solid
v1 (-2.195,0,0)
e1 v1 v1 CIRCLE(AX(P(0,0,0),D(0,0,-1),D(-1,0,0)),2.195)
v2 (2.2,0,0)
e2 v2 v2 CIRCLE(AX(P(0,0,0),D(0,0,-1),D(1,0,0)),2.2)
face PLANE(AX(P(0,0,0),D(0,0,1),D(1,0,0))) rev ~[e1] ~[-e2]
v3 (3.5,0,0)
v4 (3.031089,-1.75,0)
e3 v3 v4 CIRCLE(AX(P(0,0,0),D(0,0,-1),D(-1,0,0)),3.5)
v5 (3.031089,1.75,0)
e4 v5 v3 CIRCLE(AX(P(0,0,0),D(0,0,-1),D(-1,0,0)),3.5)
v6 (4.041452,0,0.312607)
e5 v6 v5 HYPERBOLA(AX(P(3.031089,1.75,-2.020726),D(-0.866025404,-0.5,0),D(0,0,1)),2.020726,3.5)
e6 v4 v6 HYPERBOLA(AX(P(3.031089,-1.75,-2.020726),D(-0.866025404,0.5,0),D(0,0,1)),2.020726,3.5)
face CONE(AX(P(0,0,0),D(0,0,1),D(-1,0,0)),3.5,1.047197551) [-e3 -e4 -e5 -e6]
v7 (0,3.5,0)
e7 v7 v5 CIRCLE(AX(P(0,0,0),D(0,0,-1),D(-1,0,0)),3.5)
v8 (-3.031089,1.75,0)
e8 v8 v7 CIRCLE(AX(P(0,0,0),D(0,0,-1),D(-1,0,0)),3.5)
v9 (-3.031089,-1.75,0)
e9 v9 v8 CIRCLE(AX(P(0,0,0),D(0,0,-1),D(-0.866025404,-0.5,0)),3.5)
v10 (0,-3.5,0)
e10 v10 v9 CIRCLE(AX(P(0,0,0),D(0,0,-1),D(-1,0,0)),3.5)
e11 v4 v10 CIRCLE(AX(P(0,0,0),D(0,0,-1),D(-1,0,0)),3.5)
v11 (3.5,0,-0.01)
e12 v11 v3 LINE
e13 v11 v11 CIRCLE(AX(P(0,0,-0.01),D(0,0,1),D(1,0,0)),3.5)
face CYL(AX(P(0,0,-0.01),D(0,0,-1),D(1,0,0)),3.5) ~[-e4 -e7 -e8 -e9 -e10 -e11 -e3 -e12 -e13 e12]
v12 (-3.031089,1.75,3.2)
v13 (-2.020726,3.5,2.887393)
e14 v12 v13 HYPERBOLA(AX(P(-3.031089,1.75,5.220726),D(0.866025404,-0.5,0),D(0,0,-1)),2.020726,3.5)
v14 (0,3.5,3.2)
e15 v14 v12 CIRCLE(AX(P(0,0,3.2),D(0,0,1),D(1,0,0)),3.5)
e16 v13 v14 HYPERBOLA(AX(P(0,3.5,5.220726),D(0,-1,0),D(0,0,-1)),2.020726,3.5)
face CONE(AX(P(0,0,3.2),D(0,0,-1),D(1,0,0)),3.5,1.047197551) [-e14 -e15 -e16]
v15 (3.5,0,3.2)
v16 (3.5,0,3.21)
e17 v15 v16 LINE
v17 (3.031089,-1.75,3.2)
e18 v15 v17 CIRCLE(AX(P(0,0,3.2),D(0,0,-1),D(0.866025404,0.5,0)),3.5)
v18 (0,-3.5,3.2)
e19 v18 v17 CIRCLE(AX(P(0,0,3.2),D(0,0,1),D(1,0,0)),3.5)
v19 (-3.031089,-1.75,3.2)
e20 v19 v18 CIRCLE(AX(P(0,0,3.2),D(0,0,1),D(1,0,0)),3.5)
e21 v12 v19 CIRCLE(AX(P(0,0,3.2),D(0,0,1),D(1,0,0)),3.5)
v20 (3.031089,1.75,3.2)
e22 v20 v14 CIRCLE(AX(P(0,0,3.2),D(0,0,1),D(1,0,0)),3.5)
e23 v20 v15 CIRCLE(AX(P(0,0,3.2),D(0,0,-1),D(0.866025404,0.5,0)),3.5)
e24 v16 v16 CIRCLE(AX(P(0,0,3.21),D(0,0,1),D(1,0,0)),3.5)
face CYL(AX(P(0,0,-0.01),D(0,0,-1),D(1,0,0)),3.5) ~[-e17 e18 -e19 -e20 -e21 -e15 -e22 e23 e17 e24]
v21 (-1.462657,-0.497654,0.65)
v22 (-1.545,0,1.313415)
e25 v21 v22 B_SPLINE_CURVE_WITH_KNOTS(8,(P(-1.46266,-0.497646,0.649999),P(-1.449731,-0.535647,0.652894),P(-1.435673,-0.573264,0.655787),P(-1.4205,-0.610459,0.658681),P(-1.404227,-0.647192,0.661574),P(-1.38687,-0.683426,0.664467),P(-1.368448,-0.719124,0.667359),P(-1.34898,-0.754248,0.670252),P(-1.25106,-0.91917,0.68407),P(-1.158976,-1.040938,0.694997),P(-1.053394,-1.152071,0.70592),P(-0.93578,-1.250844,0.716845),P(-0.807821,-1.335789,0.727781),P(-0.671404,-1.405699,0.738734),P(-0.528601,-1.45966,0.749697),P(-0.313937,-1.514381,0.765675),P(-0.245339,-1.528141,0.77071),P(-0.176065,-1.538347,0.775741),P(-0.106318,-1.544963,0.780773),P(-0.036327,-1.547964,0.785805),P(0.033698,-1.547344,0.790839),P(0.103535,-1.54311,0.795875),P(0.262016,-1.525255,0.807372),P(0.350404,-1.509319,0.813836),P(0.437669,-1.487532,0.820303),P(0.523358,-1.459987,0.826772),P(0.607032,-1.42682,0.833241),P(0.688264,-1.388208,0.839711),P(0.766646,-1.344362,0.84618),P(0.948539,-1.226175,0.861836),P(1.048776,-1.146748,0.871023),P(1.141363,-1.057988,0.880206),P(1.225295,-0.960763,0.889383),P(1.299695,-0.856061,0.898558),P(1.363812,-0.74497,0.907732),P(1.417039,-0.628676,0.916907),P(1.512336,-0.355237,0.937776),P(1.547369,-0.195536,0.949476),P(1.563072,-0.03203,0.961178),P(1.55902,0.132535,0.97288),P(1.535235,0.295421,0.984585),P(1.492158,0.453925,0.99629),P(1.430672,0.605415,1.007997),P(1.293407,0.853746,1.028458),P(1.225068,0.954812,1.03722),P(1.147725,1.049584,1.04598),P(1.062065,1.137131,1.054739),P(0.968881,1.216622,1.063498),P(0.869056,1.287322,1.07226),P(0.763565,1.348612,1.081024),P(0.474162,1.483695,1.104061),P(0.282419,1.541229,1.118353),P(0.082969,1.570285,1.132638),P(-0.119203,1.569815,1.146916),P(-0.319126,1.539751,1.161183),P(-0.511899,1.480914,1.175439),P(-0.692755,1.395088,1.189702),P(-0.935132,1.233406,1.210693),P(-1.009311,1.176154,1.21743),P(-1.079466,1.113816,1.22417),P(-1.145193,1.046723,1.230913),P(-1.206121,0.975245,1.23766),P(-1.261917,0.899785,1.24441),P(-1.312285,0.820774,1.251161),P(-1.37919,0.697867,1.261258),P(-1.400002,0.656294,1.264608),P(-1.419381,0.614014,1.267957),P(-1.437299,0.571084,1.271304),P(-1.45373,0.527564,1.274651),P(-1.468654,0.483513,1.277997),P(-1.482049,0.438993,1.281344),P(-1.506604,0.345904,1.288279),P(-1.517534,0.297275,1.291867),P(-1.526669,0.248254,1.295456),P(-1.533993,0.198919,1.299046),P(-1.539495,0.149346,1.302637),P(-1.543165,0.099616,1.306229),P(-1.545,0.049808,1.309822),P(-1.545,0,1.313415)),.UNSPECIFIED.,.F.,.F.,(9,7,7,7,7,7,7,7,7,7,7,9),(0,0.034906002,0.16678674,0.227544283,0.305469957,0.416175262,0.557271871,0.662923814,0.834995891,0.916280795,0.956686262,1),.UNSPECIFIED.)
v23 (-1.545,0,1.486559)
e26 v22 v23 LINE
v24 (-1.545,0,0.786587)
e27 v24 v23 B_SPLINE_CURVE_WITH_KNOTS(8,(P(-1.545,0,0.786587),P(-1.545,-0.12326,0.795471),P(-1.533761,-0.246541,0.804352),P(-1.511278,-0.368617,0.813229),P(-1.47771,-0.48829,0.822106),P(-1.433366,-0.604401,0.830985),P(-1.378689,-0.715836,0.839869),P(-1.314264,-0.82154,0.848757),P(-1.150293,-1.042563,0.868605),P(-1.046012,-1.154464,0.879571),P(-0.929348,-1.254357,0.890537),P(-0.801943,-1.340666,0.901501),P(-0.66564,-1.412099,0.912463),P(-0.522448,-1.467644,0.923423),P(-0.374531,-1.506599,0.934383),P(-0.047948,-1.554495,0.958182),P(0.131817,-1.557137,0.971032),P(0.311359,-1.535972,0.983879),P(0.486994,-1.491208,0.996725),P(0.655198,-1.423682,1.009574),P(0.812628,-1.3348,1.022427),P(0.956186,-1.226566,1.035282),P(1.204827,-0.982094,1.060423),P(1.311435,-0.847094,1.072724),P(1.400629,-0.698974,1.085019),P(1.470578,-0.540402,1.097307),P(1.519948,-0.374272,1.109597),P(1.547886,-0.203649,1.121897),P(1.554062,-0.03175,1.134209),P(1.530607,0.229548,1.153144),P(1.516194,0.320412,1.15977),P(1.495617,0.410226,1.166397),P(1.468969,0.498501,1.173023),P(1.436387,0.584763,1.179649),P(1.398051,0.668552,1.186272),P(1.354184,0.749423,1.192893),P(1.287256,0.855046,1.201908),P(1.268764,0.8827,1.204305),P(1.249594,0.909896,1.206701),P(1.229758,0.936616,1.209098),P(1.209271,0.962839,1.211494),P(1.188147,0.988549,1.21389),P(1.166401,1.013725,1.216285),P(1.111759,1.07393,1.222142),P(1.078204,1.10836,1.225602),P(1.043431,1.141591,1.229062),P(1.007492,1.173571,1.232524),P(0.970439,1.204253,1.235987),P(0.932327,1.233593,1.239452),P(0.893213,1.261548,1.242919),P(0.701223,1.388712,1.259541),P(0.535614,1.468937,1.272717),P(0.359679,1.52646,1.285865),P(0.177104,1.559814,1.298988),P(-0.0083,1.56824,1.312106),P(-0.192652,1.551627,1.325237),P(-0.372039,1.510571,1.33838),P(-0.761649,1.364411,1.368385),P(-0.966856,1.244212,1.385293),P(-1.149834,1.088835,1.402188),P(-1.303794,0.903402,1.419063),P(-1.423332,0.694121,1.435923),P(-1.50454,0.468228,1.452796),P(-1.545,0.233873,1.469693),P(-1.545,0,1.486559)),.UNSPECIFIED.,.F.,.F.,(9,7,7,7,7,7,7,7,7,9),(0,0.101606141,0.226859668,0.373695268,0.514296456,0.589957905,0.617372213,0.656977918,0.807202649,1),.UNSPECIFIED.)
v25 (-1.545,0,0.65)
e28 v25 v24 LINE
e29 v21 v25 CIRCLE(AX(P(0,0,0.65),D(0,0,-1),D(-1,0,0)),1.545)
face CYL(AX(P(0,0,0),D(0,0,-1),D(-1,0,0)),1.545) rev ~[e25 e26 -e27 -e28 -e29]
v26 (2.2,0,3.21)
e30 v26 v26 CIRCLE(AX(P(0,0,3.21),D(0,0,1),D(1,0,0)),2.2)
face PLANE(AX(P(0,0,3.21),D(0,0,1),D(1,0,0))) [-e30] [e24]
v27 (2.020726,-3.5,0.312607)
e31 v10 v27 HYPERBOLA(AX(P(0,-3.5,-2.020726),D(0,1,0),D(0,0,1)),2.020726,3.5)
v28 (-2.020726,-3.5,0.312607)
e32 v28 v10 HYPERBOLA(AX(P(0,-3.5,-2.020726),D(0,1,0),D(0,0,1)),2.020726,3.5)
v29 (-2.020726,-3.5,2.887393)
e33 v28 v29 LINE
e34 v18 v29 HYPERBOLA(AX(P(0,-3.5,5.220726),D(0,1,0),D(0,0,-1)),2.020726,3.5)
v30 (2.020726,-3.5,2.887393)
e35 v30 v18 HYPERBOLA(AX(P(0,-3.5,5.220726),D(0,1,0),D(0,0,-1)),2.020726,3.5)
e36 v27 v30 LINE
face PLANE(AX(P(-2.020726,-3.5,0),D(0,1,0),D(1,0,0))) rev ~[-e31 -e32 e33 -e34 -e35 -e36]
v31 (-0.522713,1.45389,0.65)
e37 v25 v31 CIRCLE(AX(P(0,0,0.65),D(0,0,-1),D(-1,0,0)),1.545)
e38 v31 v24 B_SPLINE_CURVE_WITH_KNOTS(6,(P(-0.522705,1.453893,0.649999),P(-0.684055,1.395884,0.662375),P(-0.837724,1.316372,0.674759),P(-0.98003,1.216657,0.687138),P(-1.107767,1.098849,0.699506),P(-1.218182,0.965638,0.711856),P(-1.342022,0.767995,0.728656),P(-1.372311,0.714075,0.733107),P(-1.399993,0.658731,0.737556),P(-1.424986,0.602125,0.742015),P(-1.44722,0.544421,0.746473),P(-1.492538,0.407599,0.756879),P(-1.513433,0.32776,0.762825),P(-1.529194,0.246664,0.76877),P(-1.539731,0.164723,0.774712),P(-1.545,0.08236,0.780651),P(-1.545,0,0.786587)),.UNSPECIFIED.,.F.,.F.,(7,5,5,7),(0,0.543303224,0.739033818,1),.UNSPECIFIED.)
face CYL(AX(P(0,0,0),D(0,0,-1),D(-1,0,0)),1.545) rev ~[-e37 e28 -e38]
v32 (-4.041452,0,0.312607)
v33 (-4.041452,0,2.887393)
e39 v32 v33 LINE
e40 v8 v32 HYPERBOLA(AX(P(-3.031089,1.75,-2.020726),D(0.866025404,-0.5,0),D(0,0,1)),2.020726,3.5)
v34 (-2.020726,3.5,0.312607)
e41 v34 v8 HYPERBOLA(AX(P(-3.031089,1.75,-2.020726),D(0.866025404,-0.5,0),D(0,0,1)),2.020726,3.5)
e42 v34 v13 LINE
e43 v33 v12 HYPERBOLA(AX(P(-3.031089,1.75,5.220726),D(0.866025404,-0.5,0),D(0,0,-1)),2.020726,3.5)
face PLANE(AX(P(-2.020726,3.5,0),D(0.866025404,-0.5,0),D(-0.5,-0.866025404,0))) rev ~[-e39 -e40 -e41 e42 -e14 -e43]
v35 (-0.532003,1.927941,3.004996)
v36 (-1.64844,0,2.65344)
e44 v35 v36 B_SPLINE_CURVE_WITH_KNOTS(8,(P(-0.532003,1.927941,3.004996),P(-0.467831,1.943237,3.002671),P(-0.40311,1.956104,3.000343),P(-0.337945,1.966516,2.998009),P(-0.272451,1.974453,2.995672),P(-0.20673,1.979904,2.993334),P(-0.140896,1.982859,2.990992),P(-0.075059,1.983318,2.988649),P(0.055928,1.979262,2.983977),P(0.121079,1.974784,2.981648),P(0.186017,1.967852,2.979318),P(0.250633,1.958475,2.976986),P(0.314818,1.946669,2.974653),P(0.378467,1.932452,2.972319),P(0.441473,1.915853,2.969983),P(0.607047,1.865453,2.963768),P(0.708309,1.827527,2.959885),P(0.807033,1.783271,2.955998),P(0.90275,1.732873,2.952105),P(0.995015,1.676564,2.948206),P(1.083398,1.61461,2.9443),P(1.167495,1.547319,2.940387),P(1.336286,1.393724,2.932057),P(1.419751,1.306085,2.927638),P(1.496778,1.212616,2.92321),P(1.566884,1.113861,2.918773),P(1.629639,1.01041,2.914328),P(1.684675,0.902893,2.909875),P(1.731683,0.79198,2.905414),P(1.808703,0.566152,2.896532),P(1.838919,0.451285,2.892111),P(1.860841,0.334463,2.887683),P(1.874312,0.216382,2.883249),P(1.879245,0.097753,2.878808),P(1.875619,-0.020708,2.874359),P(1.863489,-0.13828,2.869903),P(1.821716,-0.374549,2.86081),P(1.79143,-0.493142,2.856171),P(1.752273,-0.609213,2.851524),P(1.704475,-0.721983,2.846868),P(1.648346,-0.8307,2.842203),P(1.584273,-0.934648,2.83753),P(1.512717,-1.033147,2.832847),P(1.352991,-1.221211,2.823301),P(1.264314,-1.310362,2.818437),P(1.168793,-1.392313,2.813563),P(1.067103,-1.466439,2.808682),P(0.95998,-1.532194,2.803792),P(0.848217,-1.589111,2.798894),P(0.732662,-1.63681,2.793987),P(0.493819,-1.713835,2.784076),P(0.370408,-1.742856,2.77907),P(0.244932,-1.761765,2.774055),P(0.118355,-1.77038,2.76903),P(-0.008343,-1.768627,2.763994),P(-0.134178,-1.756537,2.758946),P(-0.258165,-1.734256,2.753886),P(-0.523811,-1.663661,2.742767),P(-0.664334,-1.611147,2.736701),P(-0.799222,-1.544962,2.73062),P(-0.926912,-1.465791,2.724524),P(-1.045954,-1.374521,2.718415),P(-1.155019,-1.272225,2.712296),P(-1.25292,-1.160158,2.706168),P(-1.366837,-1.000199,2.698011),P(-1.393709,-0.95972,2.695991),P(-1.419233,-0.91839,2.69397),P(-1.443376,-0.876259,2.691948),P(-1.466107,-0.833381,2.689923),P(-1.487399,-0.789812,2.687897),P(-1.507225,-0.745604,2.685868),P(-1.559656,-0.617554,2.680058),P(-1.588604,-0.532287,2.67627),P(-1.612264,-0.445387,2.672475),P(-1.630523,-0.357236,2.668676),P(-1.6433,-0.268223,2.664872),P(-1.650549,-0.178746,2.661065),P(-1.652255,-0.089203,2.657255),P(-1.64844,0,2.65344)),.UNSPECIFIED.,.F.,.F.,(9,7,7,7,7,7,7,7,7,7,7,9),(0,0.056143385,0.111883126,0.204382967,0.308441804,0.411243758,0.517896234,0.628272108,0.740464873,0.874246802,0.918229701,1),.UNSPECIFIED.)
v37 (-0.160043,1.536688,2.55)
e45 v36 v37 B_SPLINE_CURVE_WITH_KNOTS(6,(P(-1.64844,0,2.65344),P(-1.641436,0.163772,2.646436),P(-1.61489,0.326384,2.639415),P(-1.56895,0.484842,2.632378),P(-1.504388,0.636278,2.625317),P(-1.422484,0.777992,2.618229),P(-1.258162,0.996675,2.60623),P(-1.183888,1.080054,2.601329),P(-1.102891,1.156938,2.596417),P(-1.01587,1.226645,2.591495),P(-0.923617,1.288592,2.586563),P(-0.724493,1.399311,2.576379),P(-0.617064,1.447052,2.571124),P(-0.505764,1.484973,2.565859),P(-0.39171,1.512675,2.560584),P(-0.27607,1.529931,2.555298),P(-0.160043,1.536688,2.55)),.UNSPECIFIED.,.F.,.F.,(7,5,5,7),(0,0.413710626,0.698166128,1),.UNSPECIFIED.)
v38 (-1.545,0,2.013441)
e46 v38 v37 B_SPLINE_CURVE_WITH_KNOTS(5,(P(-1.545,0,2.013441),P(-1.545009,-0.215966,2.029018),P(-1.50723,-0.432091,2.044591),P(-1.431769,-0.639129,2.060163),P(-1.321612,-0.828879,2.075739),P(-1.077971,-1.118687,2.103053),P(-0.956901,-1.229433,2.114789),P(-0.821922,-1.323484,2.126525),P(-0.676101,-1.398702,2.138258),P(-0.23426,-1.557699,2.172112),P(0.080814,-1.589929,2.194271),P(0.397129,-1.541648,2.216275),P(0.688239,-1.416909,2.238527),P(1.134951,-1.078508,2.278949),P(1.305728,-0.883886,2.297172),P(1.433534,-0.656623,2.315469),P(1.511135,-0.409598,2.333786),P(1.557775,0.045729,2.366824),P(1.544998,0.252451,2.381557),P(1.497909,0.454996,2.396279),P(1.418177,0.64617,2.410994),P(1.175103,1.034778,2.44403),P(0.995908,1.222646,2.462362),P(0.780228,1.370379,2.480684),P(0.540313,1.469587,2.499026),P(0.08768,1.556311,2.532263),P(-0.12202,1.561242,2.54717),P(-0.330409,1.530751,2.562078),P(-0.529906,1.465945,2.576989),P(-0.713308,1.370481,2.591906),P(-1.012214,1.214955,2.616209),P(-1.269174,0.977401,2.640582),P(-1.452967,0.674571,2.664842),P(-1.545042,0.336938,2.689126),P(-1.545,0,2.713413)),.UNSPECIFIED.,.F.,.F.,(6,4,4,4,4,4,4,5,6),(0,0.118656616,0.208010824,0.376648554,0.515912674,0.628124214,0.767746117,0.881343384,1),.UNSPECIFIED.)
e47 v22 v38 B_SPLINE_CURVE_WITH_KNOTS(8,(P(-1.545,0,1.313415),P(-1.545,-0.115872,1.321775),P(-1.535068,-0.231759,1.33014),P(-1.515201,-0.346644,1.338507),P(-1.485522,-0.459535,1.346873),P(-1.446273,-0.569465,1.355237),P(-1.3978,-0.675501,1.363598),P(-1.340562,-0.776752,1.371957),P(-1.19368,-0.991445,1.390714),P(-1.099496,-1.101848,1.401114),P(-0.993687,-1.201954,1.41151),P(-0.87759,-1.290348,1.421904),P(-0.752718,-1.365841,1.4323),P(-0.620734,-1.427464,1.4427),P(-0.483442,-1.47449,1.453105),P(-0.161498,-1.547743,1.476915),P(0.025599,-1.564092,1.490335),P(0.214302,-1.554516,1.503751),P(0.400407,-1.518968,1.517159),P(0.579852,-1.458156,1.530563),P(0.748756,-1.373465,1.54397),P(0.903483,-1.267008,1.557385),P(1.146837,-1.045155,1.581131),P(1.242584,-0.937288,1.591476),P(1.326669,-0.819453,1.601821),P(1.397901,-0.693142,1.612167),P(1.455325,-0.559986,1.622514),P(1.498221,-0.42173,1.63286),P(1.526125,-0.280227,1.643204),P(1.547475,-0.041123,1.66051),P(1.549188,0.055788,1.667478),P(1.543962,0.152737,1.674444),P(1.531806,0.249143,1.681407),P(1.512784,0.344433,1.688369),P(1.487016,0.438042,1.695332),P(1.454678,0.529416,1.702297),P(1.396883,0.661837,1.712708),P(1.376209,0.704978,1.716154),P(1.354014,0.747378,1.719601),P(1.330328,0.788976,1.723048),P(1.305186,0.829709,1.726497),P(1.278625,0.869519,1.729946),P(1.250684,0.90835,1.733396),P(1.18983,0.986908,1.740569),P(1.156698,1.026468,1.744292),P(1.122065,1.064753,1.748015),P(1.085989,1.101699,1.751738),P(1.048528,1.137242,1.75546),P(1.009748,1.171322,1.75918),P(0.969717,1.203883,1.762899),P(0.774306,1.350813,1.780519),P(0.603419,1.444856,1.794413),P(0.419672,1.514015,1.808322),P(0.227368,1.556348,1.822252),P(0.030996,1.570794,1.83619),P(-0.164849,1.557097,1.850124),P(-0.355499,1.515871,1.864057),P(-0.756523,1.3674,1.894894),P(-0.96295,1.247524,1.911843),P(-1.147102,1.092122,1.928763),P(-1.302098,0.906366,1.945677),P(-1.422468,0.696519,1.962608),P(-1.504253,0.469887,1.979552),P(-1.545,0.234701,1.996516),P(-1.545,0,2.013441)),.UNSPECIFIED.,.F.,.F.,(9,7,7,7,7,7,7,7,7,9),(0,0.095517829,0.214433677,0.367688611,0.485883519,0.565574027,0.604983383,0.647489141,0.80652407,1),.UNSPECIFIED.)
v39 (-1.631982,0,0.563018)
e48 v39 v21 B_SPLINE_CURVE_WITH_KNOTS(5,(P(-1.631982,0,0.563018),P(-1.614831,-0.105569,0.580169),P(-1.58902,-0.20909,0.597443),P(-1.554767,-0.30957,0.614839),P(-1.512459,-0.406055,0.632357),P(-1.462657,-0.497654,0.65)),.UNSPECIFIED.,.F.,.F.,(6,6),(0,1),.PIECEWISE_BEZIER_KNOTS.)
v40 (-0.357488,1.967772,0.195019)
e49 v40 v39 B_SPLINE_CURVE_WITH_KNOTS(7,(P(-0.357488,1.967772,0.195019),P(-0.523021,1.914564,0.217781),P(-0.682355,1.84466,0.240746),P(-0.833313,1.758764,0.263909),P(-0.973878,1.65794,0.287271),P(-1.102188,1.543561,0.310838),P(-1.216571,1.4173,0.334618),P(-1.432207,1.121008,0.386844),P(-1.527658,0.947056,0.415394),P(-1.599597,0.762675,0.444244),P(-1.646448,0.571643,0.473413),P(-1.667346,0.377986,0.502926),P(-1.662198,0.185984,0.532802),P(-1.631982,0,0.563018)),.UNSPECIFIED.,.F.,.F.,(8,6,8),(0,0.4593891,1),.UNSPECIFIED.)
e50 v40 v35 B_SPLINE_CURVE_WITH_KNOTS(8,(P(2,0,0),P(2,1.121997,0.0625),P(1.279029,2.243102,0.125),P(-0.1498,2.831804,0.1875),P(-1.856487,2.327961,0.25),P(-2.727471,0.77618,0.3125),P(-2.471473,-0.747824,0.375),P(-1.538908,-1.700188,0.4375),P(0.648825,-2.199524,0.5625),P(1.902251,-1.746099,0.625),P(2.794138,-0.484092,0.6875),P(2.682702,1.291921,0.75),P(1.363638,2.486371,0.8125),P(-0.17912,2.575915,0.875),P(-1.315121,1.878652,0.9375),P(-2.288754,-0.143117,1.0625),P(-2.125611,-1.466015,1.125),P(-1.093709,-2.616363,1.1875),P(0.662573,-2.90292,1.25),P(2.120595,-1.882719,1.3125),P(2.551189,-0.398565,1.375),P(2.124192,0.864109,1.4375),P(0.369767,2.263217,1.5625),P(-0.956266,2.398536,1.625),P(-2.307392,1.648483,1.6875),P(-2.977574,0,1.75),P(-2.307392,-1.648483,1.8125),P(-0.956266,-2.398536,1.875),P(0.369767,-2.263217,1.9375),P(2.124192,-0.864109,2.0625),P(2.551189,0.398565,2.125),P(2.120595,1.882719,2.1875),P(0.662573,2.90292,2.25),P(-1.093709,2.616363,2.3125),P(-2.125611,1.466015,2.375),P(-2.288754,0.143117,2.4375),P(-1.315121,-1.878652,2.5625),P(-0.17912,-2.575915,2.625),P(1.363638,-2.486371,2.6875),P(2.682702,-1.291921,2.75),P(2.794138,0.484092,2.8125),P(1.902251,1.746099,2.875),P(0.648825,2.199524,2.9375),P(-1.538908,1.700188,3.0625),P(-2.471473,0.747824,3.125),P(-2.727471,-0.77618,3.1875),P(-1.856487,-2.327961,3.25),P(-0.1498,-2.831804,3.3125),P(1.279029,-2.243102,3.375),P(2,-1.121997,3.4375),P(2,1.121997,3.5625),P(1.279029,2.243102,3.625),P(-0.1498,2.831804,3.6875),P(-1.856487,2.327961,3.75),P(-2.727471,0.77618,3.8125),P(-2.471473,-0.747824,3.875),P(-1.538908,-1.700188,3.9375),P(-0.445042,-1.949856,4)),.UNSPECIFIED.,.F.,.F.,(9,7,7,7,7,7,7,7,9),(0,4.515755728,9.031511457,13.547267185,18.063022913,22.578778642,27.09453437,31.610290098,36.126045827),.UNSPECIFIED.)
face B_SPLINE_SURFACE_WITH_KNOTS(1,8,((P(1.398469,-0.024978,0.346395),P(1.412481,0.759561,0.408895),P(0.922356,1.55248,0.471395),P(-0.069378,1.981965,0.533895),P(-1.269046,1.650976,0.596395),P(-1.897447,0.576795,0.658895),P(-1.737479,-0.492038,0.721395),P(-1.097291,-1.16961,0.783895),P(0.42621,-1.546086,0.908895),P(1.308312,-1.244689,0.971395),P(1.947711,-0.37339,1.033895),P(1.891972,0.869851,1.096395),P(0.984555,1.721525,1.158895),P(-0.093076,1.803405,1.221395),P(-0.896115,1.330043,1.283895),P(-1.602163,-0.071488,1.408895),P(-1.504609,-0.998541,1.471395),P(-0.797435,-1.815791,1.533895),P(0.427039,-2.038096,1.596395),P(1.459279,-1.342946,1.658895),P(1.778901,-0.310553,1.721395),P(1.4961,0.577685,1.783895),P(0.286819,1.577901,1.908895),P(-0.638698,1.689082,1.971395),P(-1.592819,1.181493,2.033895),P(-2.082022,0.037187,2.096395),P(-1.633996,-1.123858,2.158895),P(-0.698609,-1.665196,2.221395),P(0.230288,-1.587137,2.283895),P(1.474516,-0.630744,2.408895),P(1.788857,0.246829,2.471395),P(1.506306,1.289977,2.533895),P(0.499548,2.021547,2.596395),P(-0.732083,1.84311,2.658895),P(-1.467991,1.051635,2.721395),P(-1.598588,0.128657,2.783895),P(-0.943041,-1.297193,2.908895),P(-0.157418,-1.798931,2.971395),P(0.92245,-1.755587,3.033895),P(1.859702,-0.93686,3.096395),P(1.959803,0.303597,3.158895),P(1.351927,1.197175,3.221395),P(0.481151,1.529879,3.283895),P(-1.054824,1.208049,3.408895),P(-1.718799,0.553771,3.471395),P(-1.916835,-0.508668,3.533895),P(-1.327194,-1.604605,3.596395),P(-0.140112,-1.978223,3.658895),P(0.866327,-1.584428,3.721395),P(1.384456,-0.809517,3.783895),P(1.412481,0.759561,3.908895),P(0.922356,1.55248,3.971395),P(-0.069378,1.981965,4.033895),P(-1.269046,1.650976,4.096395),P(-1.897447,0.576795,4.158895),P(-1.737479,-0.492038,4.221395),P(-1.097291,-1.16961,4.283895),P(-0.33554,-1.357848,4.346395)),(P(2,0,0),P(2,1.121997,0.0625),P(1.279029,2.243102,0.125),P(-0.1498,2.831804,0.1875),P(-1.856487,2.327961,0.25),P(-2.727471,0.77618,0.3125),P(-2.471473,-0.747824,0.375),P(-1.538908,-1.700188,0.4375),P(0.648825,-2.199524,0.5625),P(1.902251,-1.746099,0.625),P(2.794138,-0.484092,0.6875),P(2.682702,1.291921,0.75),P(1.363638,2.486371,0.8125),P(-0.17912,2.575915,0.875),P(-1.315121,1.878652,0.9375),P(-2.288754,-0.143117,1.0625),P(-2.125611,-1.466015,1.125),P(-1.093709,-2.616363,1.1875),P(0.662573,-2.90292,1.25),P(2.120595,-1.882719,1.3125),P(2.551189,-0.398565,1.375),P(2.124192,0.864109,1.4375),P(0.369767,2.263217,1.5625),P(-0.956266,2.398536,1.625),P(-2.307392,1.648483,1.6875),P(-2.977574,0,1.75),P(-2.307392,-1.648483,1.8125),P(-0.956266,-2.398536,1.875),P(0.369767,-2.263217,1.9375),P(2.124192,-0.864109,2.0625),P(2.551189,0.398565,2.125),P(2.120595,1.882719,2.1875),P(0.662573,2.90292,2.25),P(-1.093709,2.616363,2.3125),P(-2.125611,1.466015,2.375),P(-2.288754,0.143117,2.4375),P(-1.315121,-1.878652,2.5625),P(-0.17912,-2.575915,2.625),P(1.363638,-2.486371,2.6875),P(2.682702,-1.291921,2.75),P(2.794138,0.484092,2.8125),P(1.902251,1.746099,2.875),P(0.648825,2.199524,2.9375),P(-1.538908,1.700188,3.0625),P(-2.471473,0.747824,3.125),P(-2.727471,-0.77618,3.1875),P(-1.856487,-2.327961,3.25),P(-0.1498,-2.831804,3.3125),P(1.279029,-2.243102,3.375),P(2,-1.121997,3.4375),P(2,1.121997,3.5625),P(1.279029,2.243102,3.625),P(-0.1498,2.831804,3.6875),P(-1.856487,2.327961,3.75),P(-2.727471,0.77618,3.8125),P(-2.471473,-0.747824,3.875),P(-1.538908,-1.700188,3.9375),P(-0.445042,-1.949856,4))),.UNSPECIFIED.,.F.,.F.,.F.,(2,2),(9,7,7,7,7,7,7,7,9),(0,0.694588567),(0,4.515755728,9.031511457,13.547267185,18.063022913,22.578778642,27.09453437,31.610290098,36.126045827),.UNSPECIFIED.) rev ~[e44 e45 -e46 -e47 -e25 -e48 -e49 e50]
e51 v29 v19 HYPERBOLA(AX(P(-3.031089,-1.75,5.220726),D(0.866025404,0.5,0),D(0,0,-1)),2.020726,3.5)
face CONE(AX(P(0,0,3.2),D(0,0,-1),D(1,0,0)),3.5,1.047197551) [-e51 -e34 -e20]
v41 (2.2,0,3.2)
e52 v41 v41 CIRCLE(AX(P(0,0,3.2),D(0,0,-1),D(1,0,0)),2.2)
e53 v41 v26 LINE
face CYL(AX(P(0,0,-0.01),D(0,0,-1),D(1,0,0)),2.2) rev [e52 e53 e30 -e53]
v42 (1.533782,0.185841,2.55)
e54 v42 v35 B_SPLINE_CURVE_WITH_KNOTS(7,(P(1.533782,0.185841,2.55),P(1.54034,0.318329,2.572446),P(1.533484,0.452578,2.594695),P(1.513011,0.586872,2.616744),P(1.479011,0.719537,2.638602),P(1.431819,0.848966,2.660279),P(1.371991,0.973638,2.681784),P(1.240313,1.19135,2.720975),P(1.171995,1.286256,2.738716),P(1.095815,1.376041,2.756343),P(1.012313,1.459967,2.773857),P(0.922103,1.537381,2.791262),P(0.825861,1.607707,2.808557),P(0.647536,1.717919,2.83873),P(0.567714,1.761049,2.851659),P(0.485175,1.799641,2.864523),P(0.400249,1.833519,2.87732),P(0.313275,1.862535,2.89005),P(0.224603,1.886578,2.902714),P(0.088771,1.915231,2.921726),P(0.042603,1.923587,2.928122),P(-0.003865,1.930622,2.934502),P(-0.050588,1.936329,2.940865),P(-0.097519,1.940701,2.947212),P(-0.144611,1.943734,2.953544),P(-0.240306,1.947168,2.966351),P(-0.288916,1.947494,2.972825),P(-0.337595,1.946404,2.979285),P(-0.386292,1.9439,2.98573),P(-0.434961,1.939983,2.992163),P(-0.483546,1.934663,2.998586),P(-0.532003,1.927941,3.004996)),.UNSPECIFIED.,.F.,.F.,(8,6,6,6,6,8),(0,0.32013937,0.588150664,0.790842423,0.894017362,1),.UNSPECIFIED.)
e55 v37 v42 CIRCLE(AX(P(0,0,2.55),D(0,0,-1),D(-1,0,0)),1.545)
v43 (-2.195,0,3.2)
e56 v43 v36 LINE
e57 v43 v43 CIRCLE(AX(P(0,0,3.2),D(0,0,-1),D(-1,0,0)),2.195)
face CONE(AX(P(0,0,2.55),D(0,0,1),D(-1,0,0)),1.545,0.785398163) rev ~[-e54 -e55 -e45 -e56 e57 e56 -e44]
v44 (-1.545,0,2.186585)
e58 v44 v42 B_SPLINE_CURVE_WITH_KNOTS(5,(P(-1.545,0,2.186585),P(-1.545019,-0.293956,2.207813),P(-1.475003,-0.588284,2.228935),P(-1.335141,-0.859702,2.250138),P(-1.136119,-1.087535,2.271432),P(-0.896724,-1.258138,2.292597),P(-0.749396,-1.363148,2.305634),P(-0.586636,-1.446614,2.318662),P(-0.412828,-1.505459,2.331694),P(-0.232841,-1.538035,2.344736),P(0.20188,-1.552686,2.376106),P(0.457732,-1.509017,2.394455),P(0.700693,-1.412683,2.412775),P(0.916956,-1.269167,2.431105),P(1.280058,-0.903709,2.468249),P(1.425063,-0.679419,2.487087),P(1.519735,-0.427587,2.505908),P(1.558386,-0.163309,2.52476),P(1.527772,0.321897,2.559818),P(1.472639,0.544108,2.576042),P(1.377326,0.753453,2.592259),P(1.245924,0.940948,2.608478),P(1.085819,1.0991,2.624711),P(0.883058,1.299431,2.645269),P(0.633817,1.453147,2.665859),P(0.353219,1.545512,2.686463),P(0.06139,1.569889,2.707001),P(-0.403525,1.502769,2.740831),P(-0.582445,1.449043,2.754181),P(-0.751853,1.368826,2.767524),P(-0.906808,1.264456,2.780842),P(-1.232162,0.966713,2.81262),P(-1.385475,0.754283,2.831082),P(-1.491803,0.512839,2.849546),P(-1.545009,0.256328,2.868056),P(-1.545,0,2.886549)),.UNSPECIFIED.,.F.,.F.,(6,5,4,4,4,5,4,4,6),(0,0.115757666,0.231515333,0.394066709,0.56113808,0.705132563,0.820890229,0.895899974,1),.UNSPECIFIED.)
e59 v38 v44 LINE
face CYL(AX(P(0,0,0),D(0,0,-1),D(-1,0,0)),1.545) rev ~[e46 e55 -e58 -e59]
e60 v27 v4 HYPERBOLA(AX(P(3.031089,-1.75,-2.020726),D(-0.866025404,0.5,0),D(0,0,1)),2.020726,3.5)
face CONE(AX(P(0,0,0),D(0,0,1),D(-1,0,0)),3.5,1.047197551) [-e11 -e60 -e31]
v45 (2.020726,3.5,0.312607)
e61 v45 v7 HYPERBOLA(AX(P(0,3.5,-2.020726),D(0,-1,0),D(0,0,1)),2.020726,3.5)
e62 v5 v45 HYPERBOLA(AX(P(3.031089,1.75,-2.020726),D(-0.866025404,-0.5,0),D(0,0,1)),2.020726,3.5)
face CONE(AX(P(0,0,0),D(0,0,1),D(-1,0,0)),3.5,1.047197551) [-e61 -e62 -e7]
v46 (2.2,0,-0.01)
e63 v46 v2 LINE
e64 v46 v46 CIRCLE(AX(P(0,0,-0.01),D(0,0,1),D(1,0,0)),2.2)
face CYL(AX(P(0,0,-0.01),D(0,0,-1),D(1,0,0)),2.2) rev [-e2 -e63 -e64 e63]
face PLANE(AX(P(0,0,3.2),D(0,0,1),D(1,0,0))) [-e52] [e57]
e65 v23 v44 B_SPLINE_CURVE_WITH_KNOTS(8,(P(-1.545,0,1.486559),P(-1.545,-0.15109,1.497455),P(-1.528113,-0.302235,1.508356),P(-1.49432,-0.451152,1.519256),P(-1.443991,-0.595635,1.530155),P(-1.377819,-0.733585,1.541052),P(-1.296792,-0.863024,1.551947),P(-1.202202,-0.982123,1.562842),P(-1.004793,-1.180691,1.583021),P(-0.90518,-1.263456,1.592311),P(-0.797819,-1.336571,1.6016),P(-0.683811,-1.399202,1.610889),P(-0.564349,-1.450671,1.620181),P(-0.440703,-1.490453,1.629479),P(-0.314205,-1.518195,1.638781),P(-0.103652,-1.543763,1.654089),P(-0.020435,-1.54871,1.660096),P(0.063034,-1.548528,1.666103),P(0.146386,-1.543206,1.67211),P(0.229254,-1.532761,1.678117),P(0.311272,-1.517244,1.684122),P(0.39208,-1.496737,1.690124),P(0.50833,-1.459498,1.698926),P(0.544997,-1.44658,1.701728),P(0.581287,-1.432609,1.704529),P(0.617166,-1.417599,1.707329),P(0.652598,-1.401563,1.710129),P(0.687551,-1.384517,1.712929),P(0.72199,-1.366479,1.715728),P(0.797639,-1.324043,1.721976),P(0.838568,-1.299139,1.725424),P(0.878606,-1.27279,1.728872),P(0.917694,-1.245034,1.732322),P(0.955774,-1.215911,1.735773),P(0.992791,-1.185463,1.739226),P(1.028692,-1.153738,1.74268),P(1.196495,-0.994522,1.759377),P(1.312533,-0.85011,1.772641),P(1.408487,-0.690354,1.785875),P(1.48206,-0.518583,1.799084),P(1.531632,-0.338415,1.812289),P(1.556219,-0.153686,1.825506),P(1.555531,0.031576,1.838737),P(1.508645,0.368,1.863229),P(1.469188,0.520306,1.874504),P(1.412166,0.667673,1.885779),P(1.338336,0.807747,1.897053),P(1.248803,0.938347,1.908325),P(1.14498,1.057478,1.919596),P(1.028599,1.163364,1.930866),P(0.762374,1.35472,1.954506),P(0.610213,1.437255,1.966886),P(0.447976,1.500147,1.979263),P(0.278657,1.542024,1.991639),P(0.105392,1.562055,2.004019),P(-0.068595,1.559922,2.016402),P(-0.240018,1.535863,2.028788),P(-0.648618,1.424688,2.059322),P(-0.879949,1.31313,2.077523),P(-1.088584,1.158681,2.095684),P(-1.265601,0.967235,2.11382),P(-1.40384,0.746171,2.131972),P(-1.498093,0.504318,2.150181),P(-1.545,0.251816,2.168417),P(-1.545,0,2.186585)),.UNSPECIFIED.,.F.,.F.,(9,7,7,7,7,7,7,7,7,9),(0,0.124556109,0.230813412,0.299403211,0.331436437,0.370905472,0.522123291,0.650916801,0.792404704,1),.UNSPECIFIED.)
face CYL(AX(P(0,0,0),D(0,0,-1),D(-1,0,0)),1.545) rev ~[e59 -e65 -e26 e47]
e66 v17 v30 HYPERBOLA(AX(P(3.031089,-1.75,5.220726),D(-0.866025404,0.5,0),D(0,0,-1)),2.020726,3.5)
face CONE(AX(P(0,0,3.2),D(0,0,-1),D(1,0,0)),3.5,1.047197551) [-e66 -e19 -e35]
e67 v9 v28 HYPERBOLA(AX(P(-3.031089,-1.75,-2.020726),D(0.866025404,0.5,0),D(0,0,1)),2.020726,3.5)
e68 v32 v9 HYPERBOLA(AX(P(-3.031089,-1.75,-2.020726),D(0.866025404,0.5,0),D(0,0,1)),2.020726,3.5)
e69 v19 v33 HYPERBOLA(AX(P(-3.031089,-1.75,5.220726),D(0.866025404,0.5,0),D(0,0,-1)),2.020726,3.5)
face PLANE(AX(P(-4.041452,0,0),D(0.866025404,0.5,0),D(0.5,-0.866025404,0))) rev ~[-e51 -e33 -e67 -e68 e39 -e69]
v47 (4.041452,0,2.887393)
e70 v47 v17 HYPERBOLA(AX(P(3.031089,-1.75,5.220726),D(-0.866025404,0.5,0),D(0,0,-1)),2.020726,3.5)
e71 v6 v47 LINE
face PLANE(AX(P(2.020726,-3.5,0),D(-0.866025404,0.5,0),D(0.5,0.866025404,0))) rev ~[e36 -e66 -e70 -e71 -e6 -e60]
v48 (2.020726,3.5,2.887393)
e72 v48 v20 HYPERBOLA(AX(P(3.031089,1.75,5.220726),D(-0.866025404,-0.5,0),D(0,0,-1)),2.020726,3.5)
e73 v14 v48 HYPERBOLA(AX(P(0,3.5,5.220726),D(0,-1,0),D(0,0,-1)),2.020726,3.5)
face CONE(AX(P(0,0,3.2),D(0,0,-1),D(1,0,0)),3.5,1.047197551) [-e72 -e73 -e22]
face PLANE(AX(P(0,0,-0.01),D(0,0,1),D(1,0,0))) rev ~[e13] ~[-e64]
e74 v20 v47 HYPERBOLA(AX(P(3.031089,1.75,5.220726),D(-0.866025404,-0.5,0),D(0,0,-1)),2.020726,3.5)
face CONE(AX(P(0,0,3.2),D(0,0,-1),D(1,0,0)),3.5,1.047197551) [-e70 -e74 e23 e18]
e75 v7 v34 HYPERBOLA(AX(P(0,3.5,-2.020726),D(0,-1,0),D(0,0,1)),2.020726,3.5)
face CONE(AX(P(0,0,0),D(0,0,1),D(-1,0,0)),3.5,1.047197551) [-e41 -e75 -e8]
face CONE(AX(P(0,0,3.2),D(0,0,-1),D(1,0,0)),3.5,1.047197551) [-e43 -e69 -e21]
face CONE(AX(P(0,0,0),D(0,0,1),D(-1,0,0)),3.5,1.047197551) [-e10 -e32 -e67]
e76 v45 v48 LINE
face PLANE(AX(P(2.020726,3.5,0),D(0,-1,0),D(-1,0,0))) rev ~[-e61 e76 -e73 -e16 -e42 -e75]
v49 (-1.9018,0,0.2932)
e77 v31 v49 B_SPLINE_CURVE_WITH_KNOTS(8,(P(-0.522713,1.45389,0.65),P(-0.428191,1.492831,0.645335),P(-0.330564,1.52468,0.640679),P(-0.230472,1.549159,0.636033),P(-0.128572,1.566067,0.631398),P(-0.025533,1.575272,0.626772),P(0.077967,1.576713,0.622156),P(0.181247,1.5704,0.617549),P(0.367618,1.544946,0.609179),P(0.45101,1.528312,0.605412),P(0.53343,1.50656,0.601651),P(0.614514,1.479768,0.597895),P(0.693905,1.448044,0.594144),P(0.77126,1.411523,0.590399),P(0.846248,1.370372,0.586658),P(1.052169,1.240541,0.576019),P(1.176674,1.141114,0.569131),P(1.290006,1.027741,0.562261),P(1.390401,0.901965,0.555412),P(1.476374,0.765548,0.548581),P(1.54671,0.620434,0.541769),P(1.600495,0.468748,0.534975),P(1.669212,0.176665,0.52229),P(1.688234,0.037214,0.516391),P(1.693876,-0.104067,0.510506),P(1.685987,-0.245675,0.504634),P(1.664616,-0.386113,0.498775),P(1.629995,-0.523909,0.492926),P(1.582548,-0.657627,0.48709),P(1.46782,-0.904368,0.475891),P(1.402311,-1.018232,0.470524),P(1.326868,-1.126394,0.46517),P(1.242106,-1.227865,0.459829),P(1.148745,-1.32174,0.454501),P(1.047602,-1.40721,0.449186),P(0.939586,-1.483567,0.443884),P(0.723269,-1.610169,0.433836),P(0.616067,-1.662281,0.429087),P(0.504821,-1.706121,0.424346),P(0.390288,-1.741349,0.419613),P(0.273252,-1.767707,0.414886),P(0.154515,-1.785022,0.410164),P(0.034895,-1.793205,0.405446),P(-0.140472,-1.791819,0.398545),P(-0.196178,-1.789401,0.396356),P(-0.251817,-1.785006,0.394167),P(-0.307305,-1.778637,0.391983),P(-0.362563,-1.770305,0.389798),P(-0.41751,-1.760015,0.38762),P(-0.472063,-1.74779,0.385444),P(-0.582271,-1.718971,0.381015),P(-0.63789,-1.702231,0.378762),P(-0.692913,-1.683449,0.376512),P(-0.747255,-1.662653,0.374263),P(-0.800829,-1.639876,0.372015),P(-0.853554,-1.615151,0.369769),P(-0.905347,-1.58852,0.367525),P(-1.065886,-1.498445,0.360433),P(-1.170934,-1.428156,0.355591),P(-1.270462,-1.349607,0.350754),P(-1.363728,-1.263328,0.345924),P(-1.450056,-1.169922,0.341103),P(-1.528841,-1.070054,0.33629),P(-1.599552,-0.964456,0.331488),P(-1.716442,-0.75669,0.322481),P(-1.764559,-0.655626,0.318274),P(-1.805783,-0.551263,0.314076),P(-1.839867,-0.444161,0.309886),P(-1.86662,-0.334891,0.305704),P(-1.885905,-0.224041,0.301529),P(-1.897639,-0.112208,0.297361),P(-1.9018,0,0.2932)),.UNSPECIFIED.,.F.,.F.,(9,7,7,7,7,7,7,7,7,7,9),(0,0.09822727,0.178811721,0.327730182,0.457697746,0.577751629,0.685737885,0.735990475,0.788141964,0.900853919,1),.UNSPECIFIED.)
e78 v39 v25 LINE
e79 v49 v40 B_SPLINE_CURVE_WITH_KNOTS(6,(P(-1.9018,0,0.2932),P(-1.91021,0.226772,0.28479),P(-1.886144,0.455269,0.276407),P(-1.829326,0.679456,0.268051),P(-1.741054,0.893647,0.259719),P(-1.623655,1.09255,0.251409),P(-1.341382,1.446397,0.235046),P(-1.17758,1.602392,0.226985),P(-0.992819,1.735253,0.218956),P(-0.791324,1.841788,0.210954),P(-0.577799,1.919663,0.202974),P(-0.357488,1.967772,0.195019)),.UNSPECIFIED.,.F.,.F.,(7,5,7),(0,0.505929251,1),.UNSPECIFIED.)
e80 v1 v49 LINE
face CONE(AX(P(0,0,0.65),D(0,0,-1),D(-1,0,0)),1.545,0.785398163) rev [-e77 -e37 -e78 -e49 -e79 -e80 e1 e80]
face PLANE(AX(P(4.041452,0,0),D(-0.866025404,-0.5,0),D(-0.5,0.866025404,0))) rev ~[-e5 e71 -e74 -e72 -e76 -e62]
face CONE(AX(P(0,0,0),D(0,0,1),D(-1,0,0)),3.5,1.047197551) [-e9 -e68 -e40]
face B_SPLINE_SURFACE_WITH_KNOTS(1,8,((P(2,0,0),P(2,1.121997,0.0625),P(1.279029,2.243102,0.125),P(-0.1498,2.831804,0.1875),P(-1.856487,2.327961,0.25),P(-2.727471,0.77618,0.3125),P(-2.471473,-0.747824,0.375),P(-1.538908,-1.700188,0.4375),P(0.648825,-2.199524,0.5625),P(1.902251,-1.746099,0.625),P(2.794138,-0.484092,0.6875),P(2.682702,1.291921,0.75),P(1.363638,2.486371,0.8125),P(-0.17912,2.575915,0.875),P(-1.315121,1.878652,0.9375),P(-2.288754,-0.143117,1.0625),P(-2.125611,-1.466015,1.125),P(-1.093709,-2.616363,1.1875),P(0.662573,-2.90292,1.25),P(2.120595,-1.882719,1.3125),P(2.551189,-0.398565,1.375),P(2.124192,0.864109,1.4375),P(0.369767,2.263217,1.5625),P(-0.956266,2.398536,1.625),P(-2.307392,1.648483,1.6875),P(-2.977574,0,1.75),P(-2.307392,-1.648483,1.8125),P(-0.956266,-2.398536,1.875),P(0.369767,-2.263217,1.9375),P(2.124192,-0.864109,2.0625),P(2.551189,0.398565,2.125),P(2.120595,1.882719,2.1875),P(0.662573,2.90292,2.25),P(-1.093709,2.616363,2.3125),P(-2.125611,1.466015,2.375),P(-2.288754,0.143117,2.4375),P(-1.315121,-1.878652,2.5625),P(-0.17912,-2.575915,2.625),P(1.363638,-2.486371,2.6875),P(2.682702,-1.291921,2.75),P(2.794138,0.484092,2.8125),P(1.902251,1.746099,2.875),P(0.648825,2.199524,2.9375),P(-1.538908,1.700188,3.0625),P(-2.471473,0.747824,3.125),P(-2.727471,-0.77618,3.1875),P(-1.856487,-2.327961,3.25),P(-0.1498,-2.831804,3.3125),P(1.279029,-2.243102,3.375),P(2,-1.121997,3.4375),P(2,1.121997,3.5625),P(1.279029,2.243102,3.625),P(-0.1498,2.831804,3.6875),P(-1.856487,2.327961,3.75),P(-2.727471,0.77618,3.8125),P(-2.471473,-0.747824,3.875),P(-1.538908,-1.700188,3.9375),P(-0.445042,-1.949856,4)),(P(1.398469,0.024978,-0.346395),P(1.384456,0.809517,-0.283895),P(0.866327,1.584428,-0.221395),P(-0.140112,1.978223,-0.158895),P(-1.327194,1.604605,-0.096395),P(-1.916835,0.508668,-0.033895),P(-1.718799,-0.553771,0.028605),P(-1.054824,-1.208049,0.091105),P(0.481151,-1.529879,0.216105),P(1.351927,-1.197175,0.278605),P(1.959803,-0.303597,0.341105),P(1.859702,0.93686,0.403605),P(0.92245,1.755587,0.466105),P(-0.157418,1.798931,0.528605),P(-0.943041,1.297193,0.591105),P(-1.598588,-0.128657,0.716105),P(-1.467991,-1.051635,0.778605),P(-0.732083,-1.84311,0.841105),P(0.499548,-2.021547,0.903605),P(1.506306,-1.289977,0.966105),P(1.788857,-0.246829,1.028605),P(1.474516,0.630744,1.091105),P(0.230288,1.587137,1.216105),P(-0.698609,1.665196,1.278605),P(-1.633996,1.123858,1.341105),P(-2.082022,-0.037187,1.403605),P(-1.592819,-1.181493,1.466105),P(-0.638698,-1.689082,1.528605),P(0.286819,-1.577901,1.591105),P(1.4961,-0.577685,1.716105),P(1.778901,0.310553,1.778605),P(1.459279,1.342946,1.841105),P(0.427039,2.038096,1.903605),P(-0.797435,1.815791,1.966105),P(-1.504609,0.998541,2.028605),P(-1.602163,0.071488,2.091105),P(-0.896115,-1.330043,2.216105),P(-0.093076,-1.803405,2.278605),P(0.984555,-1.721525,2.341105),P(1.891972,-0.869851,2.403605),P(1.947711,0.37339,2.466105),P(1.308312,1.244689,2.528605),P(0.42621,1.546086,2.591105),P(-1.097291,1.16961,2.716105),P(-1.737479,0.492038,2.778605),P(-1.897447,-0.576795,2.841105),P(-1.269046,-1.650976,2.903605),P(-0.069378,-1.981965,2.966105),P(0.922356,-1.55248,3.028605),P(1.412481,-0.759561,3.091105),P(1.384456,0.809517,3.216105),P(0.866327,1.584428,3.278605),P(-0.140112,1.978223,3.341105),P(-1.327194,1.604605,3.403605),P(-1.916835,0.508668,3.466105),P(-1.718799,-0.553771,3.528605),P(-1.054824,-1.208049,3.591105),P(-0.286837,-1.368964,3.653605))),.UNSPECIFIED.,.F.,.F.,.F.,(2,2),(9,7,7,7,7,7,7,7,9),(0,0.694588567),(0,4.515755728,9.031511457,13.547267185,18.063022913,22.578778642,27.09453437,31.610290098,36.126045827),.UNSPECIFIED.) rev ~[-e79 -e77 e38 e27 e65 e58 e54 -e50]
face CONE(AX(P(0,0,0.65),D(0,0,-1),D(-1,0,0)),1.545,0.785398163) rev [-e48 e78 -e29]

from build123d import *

# Parameters (mm, degrees)
Y_KSEKLIK_EKSTR_ZYON1_DEPTH = 3.2
IZIM2_OUTSIDE_W             = 23.4
IZIM2_OUTSIDE_H             = 22.318
IZIM2_OUTSIDE_R             = 3.5
KES_EKSTR_ZYON1_DEPTH       = 3.2
KES_EKSTR_ZYON1_DRAFT       = -60
IZIM3_OUTSIDE_W             = 23.4
IZIM3_OUTSIDE_H             = 22.318
IZIM3_OUTSIDE_R             = 3.5
KES_EKSTR_ZYON2_DEPTH       = 3.2
KES_EKSTR_ZYON2_DRAFT       = -60
IZIM5_R                     = 1.545
KES_EKSTR_ZYON3_DEPTH       = 3.2
PAH1_SIZE                   = 0.65
KES_S_P_R1_PITCH            = 0.7
KES_S_P_R1_HEIGHT           = 4
KES_S_P_R1_RADIUS           = 1.545
BOSS_EXTRUDE1_DEPTH         = 3.21
BOSS_EXTRUDE1_DEPTH_BACK    = 0.01
SKETCH1_R                   = 3.5
SKETCH1_R_2                 = 2.2


with BuildPart() as part:
    # Çizim1 → Yükseklik-Ekstrüzyon1 (new body)
    with BuildSketch(Plane.XY):
        Polygon((4.041451884, 0), (2.020725942, 3.5), (-2.020725942, 3.5), (-4.041451884, 0), (-2.020725942, -3.5), (2.020725942, -3.5), align=None)
    extrude(amount=Y_KSEKLIK_EKSTR_ZYON1_DEPTH)


with BuildPart() as kes_ekstr_zyon1_tool:
    # Çizim2 outside → Kes-Ekstrüzyon1 (with draft: the straight prism first)
    with BuildSketch(Plane.XY.offset(3.2)):
        Rectangle(IZIM2_OUTSIDE_W, IZIM2_OUTSIDE_H)
        Circle(IZIM2_OUTSIDE_R, mode=Mode.SUBTRACT)
    extrude(amount=-KES_EKSTR_ZYON1_DEPTH)
    # Kes-Ekstrüzyon1: the draft: its side faces are tilted about the plane it starts from
    kes_ekstr_zyon1_sides = [kes_ekstr_zyon1_tool.faces().sort_by_distance(p)[0] for p in [
        (0, -11.159, 1.6),
        (11.7, 0, 1.6),
        (0, 11.159, 1.6),
        (-11.7, 0, 1.6),
        (-3.5, 0, 1.6),
    ]]
    draft(kes_ekstr_zyon1_sides, Plane.XY.offset(3.2), KES_EKSTR_ZYON1_DRAFT)


with BuildPart() as part_1:
    add(part.part)

    # Kes-Ekstrüzyon1: cut by kes_ekstr_zyon1_tool
    add(kes_ekstr_zyon1_tool.part, mode=Mode.SUBTRACT)


with BuildPart() as kes_ekstr_zyon2_tool:
    # Çizim3 outside → Kes-Ekstrüzyon2 (with draft: the straight prism first)
    with BuildSketch(Plane(origin=(0, 0, 0), x_dir=(-1, 0, 0), z_dir=(0, 0, -1))):
        Rectangle(IZIM3_OUTSIDE_W, IZIM3_OUTSIDE_H)
        Circle(IZIM3_OUTSIDE_R, mode=Mode.SUBTRACT)
    extrude(amount=-KES_EKSTR_ZYON2_DEPTH)
    # Kes-Ekstrüzyon2: the draft: its side faces are tilted about the plane it starts from
    kes_ekstr_zyon2_sides = [kes_ekstr_zyon2_tool.faces().sort_by_distance(p)[0] for p in [
        (0, -11.159, 1.6),
        (-11.7, 0, 1.6),
        (0, 11.159, 1.6),
        (11.7, 0, 1.6),
        (3.5, 0, 1.6),
    ]]
    draft(kes_ekstr_zyon2_sides, Plane(origin=(0, 0, 0), x_dir=(-1, 0, 0), z_dir=(0, 0, -1)), KES_EKSTR_ZYON2_DRAFT)


with BuildPart() as part_2:
    add(part_1.part)

    # Kes-Ekstrüzyon2: cut by kes_ekstr_zyon2_tool
    add(kes_ekstr_zyon2_tool.part, mode=Mode.SUBTRACT)

    # Çizim5 → Kes-Ekstrüzyon3 (cut)
    with BuildSketch(Plane(origin=(0, 0, 0), x_dir=(-1, 0, 0), z_dir=(0, 0, -1))):
        Circle(IZIM5_R)
    extrude(amount=-KES_EKSTR_ZYON3_DEPTH, mode=Mode.SUBTRACT)

    # Pah1
    pah1_edges = [part_2.edges().sort_by_distance(p)[0] for p in [
        (1.545, 0, 3.2),
        (1.545, 0, 0),
    ]]
    chamfer(pah1_edges, length=PAH1_SIZE)

    # Kes-Süpür1: sweep along a helix
    with BuildLine() as kes_s_p_r1_path:
        Helix(KES_S_P_R1_PITCH, KES_S_P_R1_HEIGHT, KES_S_P_R1_RADIUS, center=(0, 0, 0), direction=(0, 0, 1))
    # Çizim7 → Kes-Süpür1 (sweep, cut)
    with BuildSketch(Plane(origin=(-0.343794843, -1.506263624, 4), x_dir=(0.07011904852635167, -0.016004215256580363, -0.9974102386319182), z_dir=(0.9724030815382076, -0.22194465783789016, 0.07192229051010418))):
        Polygon((0.347294283, 0.146531344), (-0.347294283, 0.146531344), (0, -0.455), align=None)
    sweep(path=kes_s_p_r1_path.line, is_frenet=True, mode=Mode.SUBTRACT)

    # Sketch1 → Boss-Extrude1 (add, two sides: drawn at the far end of the back side and taken through both)
    with BuildSketch(Plane.XY.offset(-BOSS_EXTRUDE1_DEPTH_BACK)):
        Circle(SKETCH1_R)
        Circle(SKETCH1_R_2, mode=Mode.SUBTRACT)
    extrude(amount=BOSS_EXTRUDE1_DEPTH + BOSS_EXTRUDE1_DEPTH_BACK)


solid = part_2.part
